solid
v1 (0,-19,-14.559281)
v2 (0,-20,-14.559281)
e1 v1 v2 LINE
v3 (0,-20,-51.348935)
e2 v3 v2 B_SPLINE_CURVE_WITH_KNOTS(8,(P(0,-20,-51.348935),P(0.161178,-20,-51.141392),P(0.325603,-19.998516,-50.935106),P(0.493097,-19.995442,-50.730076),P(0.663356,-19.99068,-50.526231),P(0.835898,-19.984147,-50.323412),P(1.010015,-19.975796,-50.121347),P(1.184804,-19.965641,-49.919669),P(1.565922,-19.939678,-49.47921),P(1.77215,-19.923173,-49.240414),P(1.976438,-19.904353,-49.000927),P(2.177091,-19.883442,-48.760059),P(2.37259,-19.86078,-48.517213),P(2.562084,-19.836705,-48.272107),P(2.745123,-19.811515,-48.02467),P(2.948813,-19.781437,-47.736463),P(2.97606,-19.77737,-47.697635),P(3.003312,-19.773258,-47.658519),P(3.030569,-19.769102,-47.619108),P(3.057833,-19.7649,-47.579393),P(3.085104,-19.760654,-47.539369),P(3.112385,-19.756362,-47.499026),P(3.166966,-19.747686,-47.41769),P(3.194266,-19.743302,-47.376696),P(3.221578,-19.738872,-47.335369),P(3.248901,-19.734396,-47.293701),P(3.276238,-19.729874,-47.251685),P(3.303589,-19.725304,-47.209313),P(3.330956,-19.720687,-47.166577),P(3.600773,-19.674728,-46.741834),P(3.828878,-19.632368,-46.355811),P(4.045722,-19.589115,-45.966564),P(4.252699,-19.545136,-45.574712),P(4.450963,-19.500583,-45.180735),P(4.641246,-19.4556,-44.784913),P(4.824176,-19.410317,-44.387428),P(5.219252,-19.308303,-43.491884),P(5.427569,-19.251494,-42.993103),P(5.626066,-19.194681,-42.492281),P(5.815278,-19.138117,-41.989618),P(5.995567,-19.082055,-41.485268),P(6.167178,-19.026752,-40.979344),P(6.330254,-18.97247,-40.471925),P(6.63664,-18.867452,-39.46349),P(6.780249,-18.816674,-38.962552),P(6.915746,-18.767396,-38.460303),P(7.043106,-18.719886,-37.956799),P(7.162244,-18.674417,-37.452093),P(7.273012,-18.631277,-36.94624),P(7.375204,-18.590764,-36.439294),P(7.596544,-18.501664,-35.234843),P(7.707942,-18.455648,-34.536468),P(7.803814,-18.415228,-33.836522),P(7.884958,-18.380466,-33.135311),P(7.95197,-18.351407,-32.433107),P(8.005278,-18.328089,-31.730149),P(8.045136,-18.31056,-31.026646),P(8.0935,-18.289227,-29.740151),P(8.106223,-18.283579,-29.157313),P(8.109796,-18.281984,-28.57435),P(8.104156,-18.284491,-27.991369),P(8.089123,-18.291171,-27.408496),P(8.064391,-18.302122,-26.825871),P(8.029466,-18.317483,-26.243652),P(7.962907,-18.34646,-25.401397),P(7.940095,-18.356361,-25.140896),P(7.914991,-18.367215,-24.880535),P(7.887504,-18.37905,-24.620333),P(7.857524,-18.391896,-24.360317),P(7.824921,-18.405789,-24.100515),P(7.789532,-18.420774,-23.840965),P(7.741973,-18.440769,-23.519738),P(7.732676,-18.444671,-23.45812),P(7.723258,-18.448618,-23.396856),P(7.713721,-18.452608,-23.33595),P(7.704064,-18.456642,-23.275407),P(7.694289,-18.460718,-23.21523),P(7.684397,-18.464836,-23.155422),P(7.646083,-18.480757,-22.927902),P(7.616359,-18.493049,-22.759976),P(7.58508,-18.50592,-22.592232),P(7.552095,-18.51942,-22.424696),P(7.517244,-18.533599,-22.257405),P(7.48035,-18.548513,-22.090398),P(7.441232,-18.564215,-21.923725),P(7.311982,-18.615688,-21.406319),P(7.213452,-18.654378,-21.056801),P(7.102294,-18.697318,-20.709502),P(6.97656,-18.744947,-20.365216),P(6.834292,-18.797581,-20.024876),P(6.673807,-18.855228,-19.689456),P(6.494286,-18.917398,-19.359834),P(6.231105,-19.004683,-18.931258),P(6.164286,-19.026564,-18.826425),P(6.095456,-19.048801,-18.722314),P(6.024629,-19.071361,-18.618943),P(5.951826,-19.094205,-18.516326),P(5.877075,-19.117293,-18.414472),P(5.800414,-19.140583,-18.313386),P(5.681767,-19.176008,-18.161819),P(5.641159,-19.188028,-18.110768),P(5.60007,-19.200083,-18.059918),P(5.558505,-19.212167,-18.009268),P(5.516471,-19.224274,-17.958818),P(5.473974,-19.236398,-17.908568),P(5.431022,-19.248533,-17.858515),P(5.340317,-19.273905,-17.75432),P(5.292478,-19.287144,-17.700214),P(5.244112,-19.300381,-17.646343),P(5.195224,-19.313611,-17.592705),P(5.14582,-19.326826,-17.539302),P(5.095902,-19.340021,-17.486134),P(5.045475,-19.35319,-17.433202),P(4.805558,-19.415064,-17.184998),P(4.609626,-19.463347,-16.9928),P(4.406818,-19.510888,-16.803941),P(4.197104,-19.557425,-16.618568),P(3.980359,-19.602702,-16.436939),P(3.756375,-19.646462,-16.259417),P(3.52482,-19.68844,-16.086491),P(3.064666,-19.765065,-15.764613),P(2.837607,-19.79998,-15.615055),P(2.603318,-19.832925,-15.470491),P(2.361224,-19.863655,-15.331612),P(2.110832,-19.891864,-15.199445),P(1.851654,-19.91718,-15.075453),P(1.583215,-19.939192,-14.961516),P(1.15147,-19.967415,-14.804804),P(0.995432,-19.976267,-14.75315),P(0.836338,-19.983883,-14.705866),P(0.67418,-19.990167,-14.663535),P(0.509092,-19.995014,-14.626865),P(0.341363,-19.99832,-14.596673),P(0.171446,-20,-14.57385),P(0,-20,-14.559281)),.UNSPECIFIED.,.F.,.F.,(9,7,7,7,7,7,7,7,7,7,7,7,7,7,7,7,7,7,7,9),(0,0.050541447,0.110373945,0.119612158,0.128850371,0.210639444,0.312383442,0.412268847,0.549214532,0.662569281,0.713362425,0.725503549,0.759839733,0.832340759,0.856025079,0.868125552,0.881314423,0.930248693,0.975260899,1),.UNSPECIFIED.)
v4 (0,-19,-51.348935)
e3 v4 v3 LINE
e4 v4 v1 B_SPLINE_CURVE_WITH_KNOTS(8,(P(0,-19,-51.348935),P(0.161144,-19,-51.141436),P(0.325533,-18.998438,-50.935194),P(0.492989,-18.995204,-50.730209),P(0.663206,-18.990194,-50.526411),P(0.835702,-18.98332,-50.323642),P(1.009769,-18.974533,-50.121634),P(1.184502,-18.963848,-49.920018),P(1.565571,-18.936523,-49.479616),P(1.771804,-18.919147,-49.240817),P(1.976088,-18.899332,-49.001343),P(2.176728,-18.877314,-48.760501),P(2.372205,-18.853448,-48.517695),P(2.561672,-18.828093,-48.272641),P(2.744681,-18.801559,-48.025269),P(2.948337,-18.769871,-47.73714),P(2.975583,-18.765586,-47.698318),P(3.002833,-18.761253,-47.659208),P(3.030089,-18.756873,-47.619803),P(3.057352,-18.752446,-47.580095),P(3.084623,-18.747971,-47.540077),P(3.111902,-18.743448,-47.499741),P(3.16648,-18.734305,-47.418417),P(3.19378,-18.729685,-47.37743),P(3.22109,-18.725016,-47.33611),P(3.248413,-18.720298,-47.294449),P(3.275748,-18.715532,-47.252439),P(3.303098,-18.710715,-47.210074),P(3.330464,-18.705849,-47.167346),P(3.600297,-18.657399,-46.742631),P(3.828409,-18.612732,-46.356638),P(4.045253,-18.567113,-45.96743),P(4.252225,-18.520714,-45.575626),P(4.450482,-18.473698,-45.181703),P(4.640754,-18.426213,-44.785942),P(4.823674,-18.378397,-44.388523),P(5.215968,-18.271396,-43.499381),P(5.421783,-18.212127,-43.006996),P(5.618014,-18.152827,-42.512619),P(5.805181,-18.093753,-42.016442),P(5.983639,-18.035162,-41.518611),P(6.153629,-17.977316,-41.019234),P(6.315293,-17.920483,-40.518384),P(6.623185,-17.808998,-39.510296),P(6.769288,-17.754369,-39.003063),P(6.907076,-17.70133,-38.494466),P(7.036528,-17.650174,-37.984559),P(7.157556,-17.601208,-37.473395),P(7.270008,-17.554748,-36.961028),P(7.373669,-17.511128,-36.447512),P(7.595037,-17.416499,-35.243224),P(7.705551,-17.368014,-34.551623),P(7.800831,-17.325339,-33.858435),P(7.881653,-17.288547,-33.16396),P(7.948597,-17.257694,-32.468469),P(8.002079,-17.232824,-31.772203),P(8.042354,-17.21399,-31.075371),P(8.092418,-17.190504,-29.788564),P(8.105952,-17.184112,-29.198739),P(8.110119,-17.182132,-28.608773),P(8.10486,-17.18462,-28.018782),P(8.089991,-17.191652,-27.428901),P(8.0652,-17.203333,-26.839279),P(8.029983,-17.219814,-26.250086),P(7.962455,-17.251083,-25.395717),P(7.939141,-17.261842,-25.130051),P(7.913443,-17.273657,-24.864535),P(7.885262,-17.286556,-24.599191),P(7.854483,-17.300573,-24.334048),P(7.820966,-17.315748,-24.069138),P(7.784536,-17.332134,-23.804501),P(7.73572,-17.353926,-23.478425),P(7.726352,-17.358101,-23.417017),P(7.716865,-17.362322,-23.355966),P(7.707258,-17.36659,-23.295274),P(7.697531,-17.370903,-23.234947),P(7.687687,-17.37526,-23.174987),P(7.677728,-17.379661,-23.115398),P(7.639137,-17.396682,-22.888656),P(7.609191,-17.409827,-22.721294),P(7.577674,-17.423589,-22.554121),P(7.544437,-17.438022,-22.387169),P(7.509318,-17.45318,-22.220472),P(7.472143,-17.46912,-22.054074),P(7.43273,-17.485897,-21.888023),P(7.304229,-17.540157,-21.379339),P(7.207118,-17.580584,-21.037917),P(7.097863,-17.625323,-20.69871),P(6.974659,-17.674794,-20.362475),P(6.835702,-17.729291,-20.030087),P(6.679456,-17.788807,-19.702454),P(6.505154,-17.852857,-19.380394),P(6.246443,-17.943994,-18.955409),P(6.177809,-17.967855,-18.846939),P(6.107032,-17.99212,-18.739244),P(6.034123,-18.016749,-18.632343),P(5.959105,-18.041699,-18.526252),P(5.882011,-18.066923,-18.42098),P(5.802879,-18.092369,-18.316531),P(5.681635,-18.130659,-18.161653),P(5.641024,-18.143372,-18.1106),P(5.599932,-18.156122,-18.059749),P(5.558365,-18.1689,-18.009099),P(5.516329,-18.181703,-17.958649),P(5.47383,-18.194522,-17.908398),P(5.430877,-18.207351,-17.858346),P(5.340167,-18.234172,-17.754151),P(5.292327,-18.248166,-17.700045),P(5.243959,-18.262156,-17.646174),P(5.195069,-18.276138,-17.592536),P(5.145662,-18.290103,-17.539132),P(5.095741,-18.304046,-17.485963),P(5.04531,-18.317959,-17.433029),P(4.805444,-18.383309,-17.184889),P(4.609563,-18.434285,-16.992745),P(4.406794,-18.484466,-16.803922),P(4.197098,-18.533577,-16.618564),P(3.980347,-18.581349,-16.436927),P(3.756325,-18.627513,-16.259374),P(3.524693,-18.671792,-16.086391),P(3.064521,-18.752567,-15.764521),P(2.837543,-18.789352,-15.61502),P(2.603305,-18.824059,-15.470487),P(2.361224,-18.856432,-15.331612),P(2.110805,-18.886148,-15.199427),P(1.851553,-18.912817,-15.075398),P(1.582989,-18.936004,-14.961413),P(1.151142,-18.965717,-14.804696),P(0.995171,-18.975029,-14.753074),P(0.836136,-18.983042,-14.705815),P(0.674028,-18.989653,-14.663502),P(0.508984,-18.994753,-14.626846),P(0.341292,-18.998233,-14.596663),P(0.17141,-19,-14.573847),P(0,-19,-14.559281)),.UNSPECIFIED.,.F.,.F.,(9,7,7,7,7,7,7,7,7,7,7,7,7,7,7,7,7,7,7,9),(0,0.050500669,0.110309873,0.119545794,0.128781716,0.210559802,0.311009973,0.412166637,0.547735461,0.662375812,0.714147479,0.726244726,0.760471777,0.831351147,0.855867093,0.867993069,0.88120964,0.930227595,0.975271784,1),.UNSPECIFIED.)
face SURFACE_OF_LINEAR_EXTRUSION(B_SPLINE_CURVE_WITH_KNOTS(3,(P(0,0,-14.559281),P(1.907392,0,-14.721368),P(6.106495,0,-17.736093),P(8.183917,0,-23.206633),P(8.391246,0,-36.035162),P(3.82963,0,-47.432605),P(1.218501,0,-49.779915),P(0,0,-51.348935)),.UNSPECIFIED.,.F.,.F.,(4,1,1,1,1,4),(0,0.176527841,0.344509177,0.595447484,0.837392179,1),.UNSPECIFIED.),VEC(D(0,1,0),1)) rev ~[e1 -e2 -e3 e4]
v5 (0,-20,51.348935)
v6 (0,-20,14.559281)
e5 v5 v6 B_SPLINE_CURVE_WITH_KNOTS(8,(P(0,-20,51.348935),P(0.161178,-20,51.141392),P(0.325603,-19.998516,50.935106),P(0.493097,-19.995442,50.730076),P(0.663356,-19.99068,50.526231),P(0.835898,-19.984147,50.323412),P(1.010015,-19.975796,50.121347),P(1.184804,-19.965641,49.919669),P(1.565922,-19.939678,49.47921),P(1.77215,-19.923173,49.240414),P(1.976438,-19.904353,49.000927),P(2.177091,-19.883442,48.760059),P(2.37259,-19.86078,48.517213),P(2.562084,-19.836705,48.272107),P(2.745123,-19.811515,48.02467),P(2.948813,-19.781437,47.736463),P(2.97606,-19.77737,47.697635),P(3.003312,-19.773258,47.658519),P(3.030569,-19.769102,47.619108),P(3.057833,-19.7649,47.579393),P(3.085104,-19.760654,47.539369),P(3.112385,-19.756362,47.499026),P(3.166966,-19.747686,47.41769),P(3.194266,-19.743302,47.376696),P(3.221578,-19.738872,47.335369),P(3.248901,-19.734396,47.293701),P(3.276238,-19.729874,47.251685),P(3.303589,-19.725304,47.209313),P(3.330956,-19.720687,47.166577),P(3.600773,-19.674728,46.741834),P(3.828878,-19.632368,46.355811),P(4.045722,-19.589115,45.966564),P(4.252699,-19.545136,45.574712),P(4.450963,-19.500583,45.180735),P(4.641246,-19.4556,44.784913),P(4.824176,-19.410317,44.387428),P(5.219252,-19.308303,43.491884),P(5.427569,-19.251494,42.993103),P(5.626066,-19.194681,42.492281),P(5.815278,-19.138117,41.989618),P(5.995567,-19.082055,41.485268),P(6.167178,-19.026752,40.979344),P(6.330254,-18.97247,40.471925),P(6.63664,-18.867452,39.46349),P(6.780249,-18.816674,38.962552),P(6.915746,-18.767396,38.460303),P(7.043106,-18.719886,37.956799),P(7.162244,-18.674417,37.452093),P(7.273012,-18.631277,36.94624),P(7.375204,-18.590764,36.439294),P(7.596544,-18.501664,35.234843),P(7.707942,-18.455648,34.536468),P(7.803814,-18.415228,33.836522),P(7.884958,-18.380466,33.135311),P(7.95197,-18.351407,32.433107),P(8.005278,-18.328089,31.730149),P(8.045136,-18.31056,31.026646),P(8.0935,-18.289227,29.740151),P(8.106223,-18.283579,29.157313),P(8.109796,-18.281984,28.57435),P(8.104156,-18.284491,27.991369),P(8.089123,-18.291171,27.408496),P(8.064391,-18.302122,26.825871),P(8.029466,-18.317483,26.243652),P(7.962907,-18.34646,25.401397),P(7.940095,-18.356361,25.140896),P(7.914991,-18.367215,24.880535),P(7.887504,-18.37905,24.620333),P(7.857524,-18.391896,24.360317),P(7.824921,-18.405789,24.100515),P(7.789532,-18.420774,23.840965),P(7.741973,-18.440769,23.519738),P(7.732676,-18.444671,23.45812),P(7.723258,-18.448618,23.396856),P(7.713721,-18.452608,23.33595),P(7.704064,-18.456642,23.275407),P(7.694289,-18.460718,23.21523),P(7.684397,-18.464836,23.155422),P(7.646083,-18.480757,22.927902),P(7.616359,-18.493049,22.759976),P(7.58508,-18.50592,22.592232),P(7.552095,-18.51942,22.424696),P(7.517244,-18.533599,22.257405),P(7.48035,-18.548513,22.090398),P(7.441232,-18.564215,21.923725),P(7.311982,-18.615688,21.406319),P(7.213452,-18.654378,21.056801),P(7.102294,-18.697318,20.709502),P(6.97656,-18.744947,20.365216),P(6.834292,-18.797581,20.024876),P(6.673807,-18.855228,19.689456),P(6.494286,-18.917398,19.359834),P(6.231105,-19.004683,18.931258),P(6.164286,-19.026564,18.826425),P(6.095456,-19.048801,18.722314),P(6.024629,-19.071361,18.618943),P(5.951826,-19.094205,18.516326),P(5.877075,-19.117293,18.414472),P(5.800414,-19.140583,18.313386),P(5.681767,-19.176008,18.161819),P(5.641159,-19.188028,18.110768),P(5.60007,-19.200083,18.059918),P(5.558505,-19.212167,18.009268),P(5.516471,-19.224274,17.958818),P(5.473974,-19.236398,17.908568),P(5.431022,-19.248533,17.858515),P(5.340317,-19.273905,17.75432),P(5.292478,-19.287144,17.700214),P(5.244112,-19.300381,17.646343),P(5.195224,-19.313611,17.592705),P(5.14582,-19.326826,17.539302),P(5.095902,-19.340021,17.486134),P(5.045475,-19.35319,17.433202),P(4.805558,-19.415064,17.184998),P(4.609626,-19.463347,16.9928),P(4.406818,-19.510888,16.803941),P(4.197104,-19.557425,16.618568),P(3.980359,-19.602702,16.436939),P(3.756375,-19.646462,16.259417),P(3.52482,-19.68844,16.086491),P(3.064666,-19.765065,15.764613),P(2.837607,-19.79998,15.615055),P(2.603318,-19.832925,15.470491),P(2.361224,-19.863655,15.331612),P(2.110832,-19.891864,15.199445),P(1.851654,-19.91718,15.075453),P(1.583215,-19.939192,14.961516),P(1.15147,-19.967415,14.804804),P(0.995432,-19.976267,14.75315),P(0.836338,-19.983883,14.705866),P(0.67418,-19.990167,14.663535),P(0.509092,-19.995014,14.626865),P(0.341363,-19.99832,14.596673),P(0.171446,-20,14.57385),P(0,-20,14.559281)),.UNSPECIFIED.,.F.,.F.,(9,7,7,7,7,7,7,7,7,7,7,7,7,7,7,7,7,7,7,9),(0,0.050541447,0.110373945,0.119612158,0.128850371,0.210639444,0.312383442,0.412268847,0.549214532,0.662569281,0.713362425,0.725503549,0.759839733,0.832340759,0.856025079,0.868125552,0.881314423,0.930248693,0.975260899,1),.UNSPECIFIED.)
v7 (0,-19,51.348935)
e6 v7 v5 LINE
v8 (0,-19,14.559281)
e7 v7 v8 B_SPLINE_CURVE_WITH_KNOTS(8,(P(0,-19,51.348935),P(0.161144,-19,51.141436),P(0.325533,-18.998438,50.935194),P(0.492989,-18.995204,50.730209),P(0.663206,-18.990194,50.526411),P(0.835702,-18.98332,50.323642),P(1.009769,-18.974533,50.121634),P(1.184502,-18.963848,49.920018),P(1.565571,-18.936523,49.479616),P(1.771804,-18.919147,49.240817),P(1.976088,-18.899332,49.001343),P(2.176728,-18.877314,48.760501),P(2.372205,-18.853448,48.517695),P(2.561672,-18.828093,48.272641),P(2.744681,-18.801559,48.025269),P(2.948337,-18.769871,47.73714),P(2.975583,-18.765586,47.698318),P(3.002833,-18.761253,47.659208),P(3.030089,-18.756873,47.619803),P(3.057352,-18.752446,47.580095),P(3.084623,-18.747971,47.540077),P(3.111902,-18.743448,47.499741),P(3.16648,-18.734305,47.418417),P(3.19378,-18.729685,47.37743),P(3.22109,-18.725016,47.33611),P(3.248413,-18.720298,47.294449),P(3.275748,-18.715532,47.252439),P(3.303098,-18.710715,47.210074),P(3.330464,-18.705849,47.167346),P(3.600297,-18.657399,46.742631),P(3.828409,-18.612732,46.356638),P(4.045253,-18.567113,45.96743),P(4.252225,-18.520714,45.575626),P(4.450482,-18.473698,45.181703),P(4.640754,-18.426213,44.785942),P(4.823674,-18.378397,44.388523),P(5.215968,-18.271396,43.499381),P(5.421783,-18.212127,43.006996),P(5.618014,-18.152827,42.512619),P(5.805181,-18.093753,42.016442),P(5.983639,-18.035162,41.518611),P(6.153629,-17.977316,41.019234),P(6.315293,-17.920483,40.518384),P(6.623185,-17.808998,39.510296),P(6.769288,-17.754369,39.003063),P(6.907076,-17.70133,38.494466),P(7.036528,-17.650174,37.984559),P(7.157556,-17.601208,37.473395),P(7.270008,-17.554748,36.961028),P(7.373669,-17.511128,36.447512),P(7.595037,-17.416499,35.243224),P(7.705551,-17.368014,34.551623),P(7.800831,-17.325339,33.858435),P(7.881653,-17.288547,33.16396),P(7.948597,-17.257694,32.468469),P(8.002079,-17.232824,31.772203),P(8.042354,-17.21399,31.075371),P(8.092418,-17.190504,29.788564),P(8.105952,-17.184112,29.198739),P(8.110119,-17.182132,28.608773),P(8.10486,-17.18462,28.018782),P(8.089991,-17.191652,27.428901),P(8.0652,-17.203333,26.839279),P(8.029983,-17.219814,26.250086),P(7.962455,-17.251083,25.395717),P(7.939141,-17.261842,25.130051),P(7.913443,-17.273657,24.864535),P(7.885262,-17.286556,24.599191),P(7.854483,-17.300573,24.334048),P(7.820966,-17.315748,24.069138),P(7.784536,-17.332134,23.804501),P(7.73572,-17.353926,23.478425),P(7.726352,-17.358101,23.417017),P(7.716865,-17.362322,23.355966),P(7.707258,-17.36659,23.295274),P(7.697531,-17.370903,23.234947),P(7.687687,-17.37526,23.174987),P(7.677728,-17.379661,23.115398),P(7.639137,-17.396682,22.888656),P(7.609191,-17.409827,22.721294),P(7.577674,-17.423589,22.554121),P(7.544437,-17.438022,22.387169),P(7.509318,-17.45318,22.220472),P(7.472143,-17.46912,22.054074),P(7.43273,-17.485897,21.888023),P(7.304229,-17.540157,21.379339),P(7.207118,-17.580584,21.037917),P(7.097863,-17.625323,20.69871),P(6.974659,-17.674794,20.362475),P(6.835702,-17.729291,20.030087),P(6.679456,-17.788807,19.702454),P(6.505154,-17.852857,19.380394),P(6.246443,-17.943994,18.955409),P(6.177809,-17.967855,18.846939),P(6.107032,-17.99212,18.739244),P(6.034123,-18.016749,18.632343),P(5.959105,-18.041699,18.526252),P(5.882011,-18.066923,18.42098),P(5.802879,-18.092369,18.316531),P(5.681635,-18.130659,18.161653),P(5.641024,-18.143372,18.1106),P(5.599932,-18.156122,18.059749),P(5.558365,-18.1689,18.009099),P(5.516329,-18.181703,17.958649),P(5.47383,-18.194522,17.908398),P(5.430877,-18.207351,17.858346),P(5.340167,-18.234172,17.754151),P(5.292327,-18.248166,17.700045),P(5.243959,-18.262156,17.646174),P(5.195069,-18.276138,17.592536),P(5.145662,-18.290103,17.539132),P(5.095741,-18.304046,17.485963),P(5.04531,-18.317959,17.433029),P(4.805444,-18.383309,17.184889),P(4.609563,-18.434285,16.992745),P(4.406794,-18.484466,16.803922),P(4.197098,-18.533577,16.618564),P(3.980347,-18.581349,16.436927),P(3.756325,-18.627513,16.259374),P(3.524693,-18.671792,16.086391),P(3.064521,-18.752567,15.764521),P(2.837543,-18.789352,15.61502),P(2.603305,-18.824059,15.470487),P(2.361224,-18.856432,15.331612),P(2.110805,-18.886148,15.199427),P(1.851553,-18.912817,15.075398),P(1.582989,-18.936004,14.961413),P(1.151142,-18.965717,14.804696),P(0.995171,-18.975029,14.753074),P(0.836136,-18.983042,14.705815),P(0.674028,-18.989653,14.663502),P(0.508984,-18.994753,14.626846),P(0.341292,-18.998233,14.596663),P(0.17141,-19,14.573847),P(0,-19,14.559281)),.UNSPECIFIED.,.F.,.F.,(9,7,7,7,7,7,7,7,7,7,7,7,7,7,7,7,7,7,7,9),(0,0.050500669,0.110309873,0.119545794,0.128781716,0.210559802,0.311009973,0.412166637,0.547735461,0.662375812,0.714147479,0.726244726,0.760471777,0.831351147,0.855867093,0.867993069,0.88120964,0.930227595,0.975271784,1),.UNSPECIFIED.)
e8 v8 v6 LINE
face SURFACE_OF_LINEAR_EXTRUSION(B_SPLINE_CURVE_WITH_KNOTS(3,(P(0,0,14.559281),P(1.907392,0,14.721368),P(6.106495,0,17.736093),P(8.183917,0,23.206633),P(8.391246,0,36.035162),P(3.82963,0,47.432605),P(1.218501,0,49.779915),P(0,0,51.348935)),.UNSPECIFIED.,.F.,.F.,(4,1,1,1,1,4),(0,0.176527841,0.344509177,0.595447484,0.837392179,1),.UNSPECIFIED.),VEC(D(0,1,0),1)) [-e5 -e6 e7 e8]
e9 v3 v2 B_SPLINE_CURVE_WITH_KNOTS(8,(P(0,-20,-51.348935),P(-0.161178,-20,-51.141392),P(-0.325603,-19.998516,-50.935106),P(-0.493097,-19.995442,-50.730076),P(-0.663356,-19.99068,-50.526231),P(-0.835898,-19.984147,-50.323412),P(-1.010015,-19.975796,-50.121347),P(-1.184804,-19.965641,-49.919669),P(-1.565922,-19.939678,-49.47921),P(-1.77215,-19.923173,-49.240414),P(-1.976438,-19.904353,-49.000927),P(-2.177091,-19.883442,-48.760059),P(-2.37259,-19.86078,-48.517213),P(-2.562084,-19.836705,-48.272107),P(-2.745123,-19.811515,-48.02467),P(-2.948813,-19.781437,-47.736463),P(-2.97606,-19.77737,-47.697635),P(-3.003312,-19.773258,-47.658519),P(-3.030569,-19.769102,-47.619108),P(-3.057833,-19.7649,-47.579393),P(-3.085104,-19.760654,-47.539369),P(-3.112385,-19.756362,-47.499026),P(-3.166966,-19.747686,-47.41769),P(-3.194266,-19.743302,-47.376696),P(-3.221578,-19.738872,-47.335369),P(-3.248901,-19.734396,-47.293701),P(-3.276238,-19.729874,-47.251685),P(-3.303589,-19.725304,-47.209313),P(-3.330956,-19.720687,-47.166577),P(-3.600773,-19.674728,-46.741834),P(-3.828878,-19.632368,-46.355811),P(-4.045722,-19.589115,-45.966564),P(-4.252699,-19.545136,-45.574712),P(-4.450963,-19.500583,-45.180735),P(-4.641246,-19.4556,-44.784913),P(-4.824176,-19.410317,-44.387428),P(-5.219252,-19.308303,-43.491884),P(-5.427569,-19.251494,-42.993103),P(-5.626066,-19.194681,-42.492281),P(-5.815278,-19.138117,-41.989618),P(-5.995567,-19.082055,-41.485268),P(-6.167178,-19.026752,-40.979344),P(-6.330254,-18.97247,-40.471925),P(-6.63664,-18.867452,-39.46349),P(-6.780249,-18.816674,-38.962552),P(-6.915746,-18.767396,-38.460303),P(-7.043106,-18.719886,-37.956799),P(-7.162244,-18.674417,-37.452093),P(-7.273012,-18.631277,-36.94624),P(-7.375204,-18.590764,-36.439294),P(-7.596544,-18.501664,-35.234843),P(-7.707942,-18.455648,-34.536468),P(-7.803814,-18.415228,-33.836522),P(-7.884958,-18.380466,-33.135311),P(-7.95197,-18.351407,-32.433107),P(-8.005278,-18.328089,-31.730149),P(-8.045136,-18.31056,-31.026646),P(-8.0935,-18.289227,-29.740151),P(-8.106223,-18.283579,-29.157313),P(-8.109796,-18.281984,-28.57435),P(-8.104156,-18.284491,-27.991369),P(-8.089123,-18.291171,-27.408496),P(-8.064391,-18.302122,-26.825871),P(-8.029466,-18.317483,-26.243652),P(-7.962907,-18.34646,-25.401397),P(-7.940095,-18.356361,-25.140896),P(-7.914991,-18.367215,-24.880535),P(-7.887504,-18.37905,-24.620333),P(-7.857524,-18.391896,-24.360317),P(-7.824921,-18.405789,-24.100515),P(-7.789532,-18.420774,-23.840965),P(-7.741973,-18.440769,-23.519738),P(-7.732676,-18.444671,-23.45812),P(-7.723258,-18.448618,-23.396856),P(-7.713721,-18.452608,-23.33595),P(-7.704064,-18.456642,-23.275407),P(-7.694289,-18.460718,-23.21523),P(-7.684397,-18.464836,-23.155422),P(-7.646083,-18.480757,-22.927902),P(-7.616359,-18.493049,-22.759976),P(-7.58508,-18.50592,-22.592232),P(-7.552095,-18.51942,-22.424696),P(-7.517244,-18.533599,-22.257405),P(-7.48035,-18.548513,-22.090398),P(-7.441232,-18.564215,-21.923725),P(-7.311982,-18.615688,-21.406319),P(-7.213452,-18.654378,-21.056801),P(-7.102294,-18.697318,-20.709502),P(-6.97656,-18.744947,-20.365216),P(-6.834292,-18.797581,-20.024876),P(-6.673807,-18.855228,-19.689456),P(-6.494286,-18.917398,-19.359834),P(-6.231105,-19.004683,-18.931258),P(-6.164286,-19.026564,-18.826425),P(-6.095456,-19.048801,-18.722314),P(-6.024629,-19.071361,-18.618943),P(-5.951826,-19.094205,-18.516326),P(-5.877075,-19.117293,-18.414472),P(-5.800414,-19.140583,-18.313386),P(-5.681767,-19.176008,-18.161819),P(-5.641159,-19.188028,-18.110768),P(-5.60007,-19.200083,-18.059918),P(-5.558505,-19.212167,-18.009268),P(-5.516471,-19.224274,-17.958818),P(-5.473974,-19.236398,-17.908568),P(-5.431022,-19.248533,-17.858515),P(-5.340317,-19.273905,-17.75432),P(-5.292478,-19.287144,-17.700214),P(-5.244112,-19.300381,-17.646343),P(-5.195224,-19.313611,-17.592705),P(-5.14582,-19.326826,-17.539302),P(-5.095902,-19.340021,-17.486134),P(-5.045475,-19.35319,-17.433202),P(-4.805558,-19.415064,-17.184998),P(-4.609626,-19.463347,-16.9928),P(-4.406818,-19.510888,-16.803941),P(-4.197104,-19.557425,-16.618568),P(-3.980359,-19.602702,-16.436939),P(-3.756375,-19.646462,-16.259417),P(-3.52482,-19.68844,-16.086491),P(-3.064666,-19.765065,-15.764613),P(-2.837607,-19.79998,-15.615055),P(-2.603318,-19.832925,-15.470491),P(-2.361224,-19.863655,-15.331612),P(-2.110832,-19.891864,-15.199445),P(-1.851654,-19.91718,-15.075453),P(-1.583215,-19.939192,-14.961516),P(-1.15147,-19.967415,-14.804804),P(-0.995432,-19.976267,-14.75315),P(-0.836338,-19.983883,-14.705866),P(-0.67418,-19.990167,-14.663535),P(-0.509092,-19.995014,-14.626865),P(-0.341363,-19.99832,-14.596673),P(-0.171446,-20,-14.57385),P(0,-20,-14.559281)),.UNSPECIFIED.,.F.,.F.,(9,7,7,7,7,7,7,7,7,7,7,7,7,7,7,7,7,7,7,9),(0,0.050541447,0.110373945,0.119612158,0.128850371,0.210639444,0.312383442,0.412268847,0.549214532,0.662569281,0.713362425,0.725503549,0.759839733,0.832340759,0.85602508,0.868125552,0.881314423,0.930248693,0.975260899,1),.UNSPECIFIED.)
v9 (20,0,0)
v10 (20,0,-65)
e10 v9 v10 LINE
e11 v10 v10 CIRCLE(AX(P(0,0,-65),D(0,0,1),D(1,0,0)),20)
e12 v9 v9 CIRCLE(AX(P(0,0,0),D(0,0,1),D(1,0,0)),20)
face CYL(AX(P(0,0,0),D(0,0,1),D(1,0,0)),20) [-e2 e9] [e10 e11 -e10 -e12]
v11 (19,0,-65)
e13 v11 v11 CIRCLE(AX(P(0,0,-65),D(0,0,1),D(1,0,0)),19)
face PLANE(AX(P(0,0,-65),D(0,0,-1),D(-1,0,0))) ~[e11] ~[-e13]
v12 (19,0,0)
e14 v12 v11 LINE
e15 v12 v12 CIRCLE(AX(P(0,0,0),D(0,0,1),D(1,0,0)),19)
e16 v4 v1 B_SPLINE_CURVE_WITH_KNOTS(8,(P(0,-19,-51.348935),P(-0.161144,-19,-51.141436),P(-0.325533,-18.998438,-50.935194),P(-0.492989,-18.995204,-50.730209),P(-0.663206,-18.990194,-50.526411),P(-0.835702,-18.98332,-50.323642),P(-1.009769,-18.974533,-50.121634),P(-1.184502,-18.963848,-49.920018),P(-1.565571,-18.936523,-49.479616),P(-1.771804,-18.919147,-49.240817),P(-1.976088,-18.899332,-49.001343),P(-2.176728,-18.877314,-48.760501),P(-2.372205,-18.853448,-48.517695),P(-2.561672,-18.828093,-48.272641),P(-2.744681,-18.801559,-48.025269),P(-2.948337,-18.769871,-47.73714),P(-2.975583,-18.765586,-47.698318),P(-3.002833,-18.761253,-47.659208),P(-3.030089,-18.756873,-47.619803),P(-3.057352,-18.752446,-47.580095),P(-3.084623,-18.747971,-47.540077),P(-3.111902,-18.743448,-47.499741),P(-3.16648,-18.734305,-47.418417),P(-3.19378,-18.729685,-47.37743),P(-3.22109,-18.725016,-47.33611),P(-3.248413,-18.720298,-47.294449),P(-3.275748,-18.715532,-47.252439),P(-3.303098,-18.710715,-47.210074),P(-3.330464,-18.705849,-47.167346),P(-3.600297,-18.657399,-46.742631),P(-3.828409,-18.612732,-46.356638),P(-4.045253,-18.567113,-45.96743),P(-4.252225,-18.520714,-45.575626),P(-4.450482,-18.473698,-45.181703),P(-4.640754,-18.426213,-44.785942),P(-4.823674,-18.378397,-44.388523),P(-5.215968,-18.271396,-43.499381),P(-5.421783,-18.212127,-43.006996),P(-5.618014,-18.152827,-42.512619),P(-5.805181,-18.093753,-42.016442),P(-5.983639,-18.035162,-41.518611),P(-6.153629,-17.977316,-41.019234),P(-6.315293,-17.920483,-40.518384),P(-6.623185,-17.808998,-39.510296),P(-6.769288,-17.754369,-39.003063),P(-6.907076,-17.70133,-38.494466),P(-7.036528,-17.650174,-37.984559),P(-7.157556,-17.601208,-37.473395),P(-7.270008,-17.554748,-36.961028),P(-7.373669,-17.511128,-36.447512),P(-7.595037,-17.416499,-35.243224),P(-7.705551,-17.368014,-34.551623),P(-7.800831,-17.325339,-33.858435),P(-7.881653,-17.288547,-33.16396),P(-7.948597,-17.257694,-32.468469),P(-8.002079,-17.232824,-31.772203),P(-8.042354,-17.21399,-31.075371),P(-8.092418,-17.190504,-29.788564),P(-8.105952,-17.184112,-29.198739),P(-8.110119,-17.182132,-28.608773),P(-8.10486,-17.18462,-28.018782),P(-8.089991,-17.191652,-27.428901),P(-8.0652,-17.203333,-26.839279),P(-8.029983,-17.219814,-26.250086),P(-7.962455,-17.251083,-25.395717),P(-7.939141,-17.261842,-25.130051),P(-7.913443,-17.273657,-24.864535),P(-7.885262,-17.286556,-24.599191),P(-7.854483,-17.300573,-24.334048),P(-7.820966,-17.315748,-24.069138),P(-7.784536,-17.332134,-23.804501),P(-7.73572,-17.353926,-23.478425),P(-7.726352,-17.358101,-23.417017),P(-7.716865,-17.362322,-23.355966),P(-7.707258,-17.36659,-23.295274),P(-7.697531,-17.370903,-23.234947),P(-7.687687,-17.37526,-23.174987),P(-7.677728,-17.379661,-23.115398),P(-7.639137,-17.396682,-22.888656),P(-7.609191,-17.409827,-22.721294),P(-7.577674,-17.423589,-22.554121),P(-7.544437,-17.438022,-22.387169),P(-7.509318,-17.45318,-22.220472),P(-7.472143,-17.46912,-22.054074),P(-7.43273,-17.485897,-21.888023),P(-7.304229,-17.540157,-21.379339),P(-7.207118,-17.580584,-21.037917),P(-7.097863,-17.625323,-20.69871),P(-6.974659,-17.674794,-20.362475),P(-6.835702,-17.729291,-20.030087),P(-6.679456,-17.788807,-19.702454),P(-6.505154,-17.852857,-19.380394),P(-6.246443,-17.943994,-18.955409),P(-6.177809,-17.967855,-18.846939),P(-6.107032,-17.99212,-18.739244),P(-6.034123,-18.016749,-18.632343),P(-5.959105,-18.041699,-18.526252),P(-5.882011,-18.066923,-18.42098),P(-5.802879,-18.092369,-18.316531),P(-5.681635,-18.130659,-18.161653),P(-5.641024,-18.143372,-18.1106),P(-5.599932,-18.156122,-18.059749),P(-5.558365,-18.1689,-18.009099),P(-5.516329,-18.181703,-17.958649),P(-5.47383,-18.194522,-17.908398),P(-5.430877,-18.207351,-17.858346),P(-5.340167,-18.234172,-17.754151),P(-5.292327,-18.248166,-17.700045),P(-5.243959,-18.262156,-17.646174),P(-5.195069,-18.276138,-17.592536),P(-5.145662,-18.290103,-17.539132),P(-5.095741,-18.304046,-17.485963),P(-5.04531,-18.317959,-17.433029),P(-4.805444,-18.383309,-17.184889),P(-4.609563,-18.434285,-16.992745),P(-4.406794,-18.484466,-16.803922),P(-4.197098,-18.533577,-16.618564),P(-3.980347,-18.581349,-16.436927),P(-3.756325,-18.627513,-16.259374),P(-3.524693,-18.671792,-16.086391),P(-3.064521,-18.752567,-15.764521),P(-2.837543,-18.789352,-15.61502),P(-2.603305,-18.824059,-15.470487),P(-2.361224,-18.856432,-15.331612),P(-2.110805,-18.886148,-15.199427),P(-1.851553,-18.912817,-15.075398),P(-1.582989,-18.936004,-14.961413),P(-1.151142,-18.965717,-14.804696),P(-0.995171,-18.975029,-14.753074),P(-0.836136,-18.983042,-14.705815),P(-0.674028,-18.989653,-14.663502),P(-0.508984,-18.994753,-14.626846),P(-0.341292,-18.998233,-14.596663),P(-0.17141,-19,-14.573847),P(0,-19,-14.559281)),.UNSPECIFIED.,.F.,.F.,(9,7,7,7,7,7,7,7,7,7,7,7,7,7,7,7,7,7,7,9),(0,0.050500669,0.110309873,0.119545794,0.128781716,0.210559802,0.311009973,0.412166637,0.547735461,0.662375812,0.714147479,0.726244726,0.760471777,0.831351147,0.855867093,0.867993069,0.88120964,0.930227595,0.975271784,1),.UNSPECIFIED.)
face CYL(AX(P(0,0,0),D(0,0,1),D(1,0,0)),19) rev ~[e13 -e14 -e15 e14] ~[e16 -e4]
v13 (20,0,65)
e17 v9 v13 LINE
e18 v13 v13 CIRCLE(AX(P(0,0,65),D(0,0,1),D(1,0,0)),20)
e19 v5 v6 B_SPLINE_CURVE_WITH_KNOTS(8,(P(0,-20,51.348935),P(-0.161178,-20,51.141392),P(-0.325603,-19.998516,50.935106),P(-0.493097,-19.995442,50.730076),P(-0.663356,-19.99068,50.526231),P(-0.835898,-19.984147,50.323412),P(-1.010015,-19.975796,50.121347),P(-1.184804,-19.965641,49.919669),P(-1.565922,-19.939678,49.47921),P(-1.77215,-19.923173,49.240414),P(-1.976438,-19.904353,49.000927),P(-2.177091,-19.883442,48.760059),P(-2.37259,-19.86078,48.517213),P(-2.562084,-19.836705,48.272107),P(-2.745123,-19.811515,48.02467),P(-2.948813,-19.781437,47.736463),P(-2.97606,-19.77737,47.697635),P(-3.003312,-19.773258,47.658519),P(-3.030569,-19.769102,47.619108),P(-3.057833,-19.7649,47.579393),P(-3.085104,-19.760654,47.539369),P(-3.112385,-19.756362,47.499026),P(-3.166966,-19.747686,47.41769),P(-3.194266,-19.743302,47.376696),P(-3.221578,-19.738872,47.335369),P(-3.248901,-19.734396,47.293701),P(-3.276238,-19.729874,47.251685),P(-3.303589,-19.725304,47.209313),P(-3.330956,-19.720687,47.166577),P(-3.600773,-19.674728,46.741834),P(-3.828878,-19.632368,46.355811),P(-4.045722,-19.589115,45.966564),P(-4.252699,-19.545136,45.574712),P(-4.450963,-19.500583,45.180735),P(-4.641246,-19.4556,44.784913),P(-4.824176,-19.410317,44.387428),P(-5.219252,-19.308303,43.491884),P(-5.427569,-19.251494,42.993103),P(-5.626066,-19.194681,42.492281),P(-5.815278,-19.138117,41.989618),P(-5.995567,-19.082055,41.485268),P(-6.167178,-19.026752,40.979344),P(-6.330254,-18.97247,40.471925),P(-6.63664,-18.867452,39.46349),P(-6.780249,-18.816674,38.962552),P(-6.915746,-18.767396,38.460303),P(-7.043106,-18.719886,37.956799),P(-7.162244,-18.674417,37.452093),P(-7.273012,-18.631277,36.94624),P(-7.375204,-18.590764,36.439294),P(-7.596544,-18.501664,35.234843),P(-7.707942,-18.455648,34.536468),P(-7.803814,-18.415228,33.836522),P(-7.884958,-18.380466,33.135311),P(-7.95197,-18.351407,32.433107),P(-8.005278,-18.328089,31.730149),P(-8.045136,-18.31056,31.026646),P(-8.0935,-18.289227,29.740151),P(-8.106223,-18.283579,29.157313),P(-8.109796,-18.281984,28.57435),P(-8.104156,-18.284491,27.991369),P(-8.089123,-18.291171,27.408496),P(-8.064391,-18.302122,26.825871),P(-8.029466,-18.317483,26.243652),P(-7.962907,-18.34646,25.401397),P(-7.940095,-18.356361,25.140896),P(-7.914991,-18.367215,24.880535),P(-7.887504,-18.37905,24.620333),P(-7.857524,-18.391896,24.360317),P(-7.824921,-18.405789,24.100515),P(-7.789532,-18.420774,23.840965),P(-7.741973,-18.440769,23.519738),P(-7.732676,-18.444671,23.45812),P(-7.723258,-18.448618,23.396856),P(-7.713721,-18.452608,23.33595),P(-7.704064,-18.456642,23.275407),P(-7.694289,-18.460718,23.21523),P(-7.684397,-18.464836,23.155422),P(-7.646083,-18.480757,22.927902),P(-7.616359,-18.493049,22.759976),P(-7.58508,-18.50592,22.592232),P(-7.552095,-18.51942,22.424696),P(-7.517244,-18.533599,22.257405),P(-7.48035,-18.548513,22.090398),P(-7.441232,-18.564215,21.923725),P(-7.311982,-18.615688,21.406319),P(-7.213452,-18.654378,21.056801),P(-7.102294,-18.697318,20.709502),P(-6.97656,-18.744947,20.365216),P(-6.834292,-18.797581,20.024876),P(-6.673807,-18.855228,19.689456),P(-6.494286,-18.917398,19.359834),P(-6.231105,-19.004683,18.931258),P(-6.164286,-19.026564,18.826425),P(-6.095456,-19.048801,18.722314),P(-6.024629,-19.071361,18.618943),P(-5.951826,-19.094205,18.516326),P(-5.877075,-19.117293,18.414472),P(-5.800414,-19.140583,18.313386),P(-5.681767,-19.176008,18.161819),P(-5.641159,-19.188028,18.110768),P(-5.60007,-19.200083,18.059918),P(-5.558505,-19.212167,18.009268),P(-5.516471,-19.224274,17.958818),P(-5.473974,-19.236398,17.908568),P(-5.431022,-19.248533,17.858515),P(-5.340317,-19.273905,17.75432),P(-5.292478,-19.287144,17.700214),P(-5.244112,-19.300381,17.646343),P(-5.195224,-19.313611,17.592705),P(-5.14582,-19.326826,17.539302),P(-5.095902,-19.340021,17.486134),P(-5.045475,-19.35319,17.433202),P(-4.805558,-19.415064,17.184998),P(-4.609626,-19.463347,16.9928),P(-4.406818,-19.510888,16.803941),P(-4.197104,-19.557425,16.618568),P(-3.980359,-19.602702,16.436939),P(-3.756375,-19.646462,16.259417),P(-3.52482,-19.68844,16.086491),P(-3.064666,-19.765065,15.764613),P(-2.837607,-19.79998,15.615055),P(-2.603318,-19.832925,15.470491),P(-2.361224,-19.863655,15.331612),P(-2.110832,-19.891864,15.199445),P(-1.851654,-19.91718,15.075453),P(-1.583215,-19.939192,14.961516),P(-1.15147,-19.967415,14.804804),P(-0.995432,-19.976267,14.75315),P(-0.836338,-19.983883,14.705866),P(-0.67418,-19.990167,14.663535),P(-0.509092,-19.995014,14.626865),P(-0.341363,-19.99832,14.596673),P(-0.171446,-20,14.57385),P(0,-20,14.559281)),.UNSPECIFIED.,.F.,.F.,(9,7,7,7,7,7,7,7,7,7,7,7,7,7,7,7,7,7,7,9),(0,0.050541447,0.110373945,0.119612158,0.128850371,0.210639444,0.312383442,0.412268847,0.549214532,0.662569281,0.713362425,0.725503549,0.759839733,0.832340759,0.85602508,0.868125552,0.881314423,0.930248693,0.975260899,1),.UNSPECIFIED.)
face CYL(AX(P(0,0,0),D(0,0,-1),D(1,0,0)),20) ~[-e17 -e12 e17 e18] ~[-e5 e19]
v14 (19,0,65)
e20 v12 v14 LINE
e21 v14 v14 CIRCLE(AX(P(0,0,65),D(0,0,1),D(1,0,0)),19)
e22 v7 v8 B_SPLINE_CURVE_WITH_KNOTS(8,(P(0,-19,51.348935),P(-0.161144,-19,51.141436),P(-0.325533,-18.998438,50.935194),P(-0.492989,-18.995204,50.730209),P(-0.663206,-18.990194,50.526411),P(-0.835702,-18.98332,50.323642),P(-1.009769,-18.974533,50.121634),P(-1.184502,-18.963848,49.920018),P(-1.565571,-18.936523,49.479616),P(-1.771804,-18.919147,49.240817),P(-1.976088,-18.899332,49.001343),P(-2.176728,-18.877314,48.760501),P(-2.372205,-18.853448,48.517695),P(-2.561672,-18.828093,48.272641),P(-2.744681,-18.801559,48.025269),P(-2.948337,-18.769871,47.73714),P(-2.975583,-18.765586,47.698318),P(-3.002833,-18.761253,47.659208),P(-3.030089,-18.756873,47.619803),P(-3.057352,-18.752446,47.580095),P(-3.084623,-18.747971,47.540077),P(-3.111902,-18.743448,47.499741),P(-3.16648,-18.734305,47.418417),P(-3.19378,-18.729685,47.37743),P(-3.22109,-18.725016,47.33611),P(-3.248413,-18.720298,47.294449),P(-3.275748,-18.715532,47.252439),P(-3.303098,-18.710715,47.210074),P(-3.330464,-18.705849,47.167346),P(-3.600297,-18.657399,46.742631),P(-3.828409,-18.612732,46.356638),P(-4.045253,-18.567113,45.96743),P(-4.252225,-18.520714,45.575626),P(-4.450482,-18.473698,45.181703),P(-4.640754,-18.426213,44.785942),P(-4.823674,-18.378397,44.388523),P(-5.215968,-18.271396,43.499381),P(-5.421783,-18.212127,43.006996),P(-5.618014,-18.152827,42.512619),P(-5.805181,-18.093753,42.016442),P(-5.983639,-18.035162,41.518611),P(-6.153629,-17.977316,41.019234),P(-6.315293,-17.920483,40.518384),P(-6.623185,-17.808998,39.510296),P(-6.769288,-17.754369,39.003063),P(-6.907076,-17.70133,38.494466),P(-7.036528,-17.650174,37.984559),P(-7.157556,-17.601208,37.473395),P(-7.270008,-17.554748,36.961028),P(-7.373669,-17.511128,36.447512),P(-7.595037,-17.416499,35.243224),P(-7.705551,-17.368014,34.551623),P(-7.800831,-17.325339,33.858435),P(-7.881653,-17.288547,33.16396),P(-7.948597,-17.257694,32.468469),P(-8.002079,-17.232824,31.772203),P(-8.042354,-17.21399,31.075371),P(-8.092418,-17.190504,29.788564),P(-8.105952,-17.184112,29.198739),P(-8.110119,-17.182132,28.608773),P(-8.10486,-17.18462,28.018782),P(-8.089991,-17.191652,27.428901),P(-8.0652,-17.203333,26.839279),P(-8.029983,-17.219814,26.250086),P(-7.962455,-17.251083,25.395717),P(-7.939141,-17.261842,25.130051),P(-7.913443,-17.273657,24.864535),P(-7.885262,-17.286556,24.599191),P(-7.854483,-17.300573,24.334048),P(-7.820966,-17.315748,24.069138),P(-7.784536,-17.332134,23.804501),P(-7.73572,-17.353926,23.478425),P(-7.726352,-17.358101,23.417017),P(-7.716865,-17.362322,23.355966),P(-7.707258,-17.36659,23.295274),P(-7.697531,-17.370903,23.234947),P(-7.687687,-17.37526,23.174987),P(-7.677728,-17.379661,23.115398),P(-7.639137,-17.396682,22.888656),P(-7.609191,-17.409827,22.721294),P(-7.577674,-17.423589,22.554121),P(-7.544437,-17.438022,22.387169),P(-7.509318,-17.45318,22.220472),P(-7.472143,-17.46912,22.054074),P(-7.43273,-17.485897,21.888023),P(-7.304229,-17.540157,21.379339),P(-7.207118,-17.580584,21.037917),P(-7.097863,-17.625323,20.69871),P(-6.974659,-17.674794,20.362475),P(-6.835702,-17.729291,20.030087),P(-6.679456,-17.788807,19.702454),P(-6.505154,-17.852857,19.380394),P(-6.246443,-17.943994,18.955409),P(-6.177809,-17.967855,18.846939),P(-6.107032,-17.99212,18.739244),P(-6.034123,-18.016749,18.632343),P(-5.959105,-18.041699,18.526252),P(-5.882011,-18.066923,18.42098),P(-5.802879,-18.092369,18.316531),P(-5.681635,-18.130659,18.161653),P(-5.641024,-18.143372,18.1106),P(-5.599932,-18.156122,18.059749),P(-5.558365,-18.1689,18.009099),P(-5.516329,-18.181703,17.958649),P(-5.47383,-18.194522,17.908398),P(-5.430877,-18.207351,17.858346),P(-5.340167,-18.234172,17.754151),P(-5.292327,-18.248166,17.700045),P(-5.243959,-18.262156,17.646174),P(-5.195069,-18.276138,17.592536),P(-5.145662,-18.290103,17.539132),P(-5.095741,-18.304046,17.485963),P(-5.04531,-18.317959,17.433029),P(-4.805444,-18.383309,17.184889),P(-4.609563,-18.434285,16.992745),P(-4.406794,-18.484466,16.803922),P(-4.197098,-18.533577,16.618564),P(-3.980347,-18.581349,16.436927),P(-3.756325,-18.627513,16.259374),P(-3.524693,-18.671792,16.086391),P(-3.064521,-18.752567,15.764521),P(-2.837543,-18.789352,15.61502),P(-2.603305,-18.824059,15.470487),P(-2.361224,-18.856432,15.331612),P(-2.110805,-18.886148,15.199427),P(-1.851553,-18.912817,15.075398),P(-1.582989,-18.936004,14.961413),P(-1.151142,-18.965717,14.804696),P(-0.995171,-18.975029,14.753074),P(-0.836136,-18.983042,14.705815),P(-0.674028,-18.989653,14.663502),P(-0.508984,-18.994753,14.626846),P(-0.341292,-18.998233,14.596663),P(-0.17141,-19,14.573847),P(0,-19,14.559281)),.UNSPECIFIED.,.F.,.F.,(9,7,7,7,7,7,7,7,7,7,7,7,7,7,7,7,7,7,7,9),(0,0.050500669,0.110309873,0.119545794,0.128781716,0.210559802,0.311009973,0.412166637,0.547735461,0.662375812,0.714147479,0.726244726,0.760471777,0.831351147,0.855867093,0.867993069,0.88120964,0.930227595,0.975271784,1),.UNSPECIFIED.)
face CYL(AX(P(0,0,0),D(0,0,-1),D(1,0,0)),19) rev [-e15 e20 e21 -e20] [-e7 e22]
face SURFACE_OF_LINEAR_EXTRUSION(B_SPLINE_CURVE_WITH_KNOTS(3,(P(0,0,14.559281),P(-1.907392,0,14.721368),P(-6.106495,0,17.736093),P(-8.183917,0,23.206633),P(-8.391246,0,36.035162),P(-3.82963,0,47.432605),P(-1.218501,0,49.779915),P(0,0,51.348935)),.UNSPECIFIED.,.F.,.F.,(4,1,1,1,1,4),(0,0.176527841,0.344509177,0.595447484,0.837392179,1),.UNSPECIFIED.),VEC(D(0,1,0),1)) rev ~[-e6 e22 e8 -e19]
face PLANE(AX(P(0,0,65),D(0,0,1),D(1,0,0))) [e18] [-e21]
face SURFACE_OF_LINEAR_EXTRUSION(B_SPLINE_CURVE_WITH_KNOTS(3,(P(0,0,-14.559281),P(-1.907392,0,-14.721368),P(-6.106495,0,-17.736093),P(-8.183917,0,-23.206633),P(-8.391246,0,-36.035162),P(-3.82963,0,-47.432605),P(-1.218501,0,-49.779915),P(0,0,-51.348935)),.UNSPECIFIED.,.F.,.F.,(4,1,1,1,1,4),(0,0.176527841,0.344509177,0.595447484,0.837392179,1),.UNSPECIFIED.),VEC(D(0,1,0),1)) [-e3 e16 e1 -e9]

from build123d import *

# Parameters (mm, degrees)
F0_R     = 20
F0_R_2   = 19
F1_DEPTH = 65
F3_DEPTH = 41.1


with BuildPart() as f1:
    # F0 (on Top) → F1 (new body)
    with BuildSketch(Plane.XY):
        Circle(F0_R)
        Circle(F0_R_2, mode=Mode.SUBTRACT)
    extrude(amount=F1_DEPTH)

    # F2 (on Front) → F3 (cut)
    with BuildSketch(Plane.XZ):
        with BuildLine():
            add(Edge.make_bspline(
                [(0, 14.5592805974), (-1.9073922383, 14.7213677243), (-6.1064946547, 17.7360926743), (-8.1839165851, 23.2066328676), (-8.391246048, 36.0351621809), (-3.8296298891, 47.432605238), (-1.2185013376, 49.7799145352), (0, 51.348935332)],
                knots=[0, 0, 0, 0, 0.1765278414, 0.3445091773, 0.5954474838, 0.8373921793, 1, 1, 1, 1], degree=3))
            add(Edge.make_bspline(
                [(0, 14.5592805974), (1.9073922383, 14.7213677243), (6.1064946547, 17.7360926743), (8.1839165851, 23.2066328676), (8.391246048, 36.0351621809), (3.8296298891, 47.432605238), (1.2185013376, 49.7799145352), (0, 51.348935332)],
                knots=[0, 0, 0, 0, 0.1765278414, 0.3445091773, 0.5954474838, 0.8373921793, 1, 1, 1, 1], degree=3))
        make_face()
    extrude(amount=F3_DEPTH, mode=Mode.SUBTRACT)

    # F4: F1 across plane


with BuildPart() as f1_1:
    add(f1.part)
    add(f1.part.mirror(Plane.XY))


solid = f1_1.part
